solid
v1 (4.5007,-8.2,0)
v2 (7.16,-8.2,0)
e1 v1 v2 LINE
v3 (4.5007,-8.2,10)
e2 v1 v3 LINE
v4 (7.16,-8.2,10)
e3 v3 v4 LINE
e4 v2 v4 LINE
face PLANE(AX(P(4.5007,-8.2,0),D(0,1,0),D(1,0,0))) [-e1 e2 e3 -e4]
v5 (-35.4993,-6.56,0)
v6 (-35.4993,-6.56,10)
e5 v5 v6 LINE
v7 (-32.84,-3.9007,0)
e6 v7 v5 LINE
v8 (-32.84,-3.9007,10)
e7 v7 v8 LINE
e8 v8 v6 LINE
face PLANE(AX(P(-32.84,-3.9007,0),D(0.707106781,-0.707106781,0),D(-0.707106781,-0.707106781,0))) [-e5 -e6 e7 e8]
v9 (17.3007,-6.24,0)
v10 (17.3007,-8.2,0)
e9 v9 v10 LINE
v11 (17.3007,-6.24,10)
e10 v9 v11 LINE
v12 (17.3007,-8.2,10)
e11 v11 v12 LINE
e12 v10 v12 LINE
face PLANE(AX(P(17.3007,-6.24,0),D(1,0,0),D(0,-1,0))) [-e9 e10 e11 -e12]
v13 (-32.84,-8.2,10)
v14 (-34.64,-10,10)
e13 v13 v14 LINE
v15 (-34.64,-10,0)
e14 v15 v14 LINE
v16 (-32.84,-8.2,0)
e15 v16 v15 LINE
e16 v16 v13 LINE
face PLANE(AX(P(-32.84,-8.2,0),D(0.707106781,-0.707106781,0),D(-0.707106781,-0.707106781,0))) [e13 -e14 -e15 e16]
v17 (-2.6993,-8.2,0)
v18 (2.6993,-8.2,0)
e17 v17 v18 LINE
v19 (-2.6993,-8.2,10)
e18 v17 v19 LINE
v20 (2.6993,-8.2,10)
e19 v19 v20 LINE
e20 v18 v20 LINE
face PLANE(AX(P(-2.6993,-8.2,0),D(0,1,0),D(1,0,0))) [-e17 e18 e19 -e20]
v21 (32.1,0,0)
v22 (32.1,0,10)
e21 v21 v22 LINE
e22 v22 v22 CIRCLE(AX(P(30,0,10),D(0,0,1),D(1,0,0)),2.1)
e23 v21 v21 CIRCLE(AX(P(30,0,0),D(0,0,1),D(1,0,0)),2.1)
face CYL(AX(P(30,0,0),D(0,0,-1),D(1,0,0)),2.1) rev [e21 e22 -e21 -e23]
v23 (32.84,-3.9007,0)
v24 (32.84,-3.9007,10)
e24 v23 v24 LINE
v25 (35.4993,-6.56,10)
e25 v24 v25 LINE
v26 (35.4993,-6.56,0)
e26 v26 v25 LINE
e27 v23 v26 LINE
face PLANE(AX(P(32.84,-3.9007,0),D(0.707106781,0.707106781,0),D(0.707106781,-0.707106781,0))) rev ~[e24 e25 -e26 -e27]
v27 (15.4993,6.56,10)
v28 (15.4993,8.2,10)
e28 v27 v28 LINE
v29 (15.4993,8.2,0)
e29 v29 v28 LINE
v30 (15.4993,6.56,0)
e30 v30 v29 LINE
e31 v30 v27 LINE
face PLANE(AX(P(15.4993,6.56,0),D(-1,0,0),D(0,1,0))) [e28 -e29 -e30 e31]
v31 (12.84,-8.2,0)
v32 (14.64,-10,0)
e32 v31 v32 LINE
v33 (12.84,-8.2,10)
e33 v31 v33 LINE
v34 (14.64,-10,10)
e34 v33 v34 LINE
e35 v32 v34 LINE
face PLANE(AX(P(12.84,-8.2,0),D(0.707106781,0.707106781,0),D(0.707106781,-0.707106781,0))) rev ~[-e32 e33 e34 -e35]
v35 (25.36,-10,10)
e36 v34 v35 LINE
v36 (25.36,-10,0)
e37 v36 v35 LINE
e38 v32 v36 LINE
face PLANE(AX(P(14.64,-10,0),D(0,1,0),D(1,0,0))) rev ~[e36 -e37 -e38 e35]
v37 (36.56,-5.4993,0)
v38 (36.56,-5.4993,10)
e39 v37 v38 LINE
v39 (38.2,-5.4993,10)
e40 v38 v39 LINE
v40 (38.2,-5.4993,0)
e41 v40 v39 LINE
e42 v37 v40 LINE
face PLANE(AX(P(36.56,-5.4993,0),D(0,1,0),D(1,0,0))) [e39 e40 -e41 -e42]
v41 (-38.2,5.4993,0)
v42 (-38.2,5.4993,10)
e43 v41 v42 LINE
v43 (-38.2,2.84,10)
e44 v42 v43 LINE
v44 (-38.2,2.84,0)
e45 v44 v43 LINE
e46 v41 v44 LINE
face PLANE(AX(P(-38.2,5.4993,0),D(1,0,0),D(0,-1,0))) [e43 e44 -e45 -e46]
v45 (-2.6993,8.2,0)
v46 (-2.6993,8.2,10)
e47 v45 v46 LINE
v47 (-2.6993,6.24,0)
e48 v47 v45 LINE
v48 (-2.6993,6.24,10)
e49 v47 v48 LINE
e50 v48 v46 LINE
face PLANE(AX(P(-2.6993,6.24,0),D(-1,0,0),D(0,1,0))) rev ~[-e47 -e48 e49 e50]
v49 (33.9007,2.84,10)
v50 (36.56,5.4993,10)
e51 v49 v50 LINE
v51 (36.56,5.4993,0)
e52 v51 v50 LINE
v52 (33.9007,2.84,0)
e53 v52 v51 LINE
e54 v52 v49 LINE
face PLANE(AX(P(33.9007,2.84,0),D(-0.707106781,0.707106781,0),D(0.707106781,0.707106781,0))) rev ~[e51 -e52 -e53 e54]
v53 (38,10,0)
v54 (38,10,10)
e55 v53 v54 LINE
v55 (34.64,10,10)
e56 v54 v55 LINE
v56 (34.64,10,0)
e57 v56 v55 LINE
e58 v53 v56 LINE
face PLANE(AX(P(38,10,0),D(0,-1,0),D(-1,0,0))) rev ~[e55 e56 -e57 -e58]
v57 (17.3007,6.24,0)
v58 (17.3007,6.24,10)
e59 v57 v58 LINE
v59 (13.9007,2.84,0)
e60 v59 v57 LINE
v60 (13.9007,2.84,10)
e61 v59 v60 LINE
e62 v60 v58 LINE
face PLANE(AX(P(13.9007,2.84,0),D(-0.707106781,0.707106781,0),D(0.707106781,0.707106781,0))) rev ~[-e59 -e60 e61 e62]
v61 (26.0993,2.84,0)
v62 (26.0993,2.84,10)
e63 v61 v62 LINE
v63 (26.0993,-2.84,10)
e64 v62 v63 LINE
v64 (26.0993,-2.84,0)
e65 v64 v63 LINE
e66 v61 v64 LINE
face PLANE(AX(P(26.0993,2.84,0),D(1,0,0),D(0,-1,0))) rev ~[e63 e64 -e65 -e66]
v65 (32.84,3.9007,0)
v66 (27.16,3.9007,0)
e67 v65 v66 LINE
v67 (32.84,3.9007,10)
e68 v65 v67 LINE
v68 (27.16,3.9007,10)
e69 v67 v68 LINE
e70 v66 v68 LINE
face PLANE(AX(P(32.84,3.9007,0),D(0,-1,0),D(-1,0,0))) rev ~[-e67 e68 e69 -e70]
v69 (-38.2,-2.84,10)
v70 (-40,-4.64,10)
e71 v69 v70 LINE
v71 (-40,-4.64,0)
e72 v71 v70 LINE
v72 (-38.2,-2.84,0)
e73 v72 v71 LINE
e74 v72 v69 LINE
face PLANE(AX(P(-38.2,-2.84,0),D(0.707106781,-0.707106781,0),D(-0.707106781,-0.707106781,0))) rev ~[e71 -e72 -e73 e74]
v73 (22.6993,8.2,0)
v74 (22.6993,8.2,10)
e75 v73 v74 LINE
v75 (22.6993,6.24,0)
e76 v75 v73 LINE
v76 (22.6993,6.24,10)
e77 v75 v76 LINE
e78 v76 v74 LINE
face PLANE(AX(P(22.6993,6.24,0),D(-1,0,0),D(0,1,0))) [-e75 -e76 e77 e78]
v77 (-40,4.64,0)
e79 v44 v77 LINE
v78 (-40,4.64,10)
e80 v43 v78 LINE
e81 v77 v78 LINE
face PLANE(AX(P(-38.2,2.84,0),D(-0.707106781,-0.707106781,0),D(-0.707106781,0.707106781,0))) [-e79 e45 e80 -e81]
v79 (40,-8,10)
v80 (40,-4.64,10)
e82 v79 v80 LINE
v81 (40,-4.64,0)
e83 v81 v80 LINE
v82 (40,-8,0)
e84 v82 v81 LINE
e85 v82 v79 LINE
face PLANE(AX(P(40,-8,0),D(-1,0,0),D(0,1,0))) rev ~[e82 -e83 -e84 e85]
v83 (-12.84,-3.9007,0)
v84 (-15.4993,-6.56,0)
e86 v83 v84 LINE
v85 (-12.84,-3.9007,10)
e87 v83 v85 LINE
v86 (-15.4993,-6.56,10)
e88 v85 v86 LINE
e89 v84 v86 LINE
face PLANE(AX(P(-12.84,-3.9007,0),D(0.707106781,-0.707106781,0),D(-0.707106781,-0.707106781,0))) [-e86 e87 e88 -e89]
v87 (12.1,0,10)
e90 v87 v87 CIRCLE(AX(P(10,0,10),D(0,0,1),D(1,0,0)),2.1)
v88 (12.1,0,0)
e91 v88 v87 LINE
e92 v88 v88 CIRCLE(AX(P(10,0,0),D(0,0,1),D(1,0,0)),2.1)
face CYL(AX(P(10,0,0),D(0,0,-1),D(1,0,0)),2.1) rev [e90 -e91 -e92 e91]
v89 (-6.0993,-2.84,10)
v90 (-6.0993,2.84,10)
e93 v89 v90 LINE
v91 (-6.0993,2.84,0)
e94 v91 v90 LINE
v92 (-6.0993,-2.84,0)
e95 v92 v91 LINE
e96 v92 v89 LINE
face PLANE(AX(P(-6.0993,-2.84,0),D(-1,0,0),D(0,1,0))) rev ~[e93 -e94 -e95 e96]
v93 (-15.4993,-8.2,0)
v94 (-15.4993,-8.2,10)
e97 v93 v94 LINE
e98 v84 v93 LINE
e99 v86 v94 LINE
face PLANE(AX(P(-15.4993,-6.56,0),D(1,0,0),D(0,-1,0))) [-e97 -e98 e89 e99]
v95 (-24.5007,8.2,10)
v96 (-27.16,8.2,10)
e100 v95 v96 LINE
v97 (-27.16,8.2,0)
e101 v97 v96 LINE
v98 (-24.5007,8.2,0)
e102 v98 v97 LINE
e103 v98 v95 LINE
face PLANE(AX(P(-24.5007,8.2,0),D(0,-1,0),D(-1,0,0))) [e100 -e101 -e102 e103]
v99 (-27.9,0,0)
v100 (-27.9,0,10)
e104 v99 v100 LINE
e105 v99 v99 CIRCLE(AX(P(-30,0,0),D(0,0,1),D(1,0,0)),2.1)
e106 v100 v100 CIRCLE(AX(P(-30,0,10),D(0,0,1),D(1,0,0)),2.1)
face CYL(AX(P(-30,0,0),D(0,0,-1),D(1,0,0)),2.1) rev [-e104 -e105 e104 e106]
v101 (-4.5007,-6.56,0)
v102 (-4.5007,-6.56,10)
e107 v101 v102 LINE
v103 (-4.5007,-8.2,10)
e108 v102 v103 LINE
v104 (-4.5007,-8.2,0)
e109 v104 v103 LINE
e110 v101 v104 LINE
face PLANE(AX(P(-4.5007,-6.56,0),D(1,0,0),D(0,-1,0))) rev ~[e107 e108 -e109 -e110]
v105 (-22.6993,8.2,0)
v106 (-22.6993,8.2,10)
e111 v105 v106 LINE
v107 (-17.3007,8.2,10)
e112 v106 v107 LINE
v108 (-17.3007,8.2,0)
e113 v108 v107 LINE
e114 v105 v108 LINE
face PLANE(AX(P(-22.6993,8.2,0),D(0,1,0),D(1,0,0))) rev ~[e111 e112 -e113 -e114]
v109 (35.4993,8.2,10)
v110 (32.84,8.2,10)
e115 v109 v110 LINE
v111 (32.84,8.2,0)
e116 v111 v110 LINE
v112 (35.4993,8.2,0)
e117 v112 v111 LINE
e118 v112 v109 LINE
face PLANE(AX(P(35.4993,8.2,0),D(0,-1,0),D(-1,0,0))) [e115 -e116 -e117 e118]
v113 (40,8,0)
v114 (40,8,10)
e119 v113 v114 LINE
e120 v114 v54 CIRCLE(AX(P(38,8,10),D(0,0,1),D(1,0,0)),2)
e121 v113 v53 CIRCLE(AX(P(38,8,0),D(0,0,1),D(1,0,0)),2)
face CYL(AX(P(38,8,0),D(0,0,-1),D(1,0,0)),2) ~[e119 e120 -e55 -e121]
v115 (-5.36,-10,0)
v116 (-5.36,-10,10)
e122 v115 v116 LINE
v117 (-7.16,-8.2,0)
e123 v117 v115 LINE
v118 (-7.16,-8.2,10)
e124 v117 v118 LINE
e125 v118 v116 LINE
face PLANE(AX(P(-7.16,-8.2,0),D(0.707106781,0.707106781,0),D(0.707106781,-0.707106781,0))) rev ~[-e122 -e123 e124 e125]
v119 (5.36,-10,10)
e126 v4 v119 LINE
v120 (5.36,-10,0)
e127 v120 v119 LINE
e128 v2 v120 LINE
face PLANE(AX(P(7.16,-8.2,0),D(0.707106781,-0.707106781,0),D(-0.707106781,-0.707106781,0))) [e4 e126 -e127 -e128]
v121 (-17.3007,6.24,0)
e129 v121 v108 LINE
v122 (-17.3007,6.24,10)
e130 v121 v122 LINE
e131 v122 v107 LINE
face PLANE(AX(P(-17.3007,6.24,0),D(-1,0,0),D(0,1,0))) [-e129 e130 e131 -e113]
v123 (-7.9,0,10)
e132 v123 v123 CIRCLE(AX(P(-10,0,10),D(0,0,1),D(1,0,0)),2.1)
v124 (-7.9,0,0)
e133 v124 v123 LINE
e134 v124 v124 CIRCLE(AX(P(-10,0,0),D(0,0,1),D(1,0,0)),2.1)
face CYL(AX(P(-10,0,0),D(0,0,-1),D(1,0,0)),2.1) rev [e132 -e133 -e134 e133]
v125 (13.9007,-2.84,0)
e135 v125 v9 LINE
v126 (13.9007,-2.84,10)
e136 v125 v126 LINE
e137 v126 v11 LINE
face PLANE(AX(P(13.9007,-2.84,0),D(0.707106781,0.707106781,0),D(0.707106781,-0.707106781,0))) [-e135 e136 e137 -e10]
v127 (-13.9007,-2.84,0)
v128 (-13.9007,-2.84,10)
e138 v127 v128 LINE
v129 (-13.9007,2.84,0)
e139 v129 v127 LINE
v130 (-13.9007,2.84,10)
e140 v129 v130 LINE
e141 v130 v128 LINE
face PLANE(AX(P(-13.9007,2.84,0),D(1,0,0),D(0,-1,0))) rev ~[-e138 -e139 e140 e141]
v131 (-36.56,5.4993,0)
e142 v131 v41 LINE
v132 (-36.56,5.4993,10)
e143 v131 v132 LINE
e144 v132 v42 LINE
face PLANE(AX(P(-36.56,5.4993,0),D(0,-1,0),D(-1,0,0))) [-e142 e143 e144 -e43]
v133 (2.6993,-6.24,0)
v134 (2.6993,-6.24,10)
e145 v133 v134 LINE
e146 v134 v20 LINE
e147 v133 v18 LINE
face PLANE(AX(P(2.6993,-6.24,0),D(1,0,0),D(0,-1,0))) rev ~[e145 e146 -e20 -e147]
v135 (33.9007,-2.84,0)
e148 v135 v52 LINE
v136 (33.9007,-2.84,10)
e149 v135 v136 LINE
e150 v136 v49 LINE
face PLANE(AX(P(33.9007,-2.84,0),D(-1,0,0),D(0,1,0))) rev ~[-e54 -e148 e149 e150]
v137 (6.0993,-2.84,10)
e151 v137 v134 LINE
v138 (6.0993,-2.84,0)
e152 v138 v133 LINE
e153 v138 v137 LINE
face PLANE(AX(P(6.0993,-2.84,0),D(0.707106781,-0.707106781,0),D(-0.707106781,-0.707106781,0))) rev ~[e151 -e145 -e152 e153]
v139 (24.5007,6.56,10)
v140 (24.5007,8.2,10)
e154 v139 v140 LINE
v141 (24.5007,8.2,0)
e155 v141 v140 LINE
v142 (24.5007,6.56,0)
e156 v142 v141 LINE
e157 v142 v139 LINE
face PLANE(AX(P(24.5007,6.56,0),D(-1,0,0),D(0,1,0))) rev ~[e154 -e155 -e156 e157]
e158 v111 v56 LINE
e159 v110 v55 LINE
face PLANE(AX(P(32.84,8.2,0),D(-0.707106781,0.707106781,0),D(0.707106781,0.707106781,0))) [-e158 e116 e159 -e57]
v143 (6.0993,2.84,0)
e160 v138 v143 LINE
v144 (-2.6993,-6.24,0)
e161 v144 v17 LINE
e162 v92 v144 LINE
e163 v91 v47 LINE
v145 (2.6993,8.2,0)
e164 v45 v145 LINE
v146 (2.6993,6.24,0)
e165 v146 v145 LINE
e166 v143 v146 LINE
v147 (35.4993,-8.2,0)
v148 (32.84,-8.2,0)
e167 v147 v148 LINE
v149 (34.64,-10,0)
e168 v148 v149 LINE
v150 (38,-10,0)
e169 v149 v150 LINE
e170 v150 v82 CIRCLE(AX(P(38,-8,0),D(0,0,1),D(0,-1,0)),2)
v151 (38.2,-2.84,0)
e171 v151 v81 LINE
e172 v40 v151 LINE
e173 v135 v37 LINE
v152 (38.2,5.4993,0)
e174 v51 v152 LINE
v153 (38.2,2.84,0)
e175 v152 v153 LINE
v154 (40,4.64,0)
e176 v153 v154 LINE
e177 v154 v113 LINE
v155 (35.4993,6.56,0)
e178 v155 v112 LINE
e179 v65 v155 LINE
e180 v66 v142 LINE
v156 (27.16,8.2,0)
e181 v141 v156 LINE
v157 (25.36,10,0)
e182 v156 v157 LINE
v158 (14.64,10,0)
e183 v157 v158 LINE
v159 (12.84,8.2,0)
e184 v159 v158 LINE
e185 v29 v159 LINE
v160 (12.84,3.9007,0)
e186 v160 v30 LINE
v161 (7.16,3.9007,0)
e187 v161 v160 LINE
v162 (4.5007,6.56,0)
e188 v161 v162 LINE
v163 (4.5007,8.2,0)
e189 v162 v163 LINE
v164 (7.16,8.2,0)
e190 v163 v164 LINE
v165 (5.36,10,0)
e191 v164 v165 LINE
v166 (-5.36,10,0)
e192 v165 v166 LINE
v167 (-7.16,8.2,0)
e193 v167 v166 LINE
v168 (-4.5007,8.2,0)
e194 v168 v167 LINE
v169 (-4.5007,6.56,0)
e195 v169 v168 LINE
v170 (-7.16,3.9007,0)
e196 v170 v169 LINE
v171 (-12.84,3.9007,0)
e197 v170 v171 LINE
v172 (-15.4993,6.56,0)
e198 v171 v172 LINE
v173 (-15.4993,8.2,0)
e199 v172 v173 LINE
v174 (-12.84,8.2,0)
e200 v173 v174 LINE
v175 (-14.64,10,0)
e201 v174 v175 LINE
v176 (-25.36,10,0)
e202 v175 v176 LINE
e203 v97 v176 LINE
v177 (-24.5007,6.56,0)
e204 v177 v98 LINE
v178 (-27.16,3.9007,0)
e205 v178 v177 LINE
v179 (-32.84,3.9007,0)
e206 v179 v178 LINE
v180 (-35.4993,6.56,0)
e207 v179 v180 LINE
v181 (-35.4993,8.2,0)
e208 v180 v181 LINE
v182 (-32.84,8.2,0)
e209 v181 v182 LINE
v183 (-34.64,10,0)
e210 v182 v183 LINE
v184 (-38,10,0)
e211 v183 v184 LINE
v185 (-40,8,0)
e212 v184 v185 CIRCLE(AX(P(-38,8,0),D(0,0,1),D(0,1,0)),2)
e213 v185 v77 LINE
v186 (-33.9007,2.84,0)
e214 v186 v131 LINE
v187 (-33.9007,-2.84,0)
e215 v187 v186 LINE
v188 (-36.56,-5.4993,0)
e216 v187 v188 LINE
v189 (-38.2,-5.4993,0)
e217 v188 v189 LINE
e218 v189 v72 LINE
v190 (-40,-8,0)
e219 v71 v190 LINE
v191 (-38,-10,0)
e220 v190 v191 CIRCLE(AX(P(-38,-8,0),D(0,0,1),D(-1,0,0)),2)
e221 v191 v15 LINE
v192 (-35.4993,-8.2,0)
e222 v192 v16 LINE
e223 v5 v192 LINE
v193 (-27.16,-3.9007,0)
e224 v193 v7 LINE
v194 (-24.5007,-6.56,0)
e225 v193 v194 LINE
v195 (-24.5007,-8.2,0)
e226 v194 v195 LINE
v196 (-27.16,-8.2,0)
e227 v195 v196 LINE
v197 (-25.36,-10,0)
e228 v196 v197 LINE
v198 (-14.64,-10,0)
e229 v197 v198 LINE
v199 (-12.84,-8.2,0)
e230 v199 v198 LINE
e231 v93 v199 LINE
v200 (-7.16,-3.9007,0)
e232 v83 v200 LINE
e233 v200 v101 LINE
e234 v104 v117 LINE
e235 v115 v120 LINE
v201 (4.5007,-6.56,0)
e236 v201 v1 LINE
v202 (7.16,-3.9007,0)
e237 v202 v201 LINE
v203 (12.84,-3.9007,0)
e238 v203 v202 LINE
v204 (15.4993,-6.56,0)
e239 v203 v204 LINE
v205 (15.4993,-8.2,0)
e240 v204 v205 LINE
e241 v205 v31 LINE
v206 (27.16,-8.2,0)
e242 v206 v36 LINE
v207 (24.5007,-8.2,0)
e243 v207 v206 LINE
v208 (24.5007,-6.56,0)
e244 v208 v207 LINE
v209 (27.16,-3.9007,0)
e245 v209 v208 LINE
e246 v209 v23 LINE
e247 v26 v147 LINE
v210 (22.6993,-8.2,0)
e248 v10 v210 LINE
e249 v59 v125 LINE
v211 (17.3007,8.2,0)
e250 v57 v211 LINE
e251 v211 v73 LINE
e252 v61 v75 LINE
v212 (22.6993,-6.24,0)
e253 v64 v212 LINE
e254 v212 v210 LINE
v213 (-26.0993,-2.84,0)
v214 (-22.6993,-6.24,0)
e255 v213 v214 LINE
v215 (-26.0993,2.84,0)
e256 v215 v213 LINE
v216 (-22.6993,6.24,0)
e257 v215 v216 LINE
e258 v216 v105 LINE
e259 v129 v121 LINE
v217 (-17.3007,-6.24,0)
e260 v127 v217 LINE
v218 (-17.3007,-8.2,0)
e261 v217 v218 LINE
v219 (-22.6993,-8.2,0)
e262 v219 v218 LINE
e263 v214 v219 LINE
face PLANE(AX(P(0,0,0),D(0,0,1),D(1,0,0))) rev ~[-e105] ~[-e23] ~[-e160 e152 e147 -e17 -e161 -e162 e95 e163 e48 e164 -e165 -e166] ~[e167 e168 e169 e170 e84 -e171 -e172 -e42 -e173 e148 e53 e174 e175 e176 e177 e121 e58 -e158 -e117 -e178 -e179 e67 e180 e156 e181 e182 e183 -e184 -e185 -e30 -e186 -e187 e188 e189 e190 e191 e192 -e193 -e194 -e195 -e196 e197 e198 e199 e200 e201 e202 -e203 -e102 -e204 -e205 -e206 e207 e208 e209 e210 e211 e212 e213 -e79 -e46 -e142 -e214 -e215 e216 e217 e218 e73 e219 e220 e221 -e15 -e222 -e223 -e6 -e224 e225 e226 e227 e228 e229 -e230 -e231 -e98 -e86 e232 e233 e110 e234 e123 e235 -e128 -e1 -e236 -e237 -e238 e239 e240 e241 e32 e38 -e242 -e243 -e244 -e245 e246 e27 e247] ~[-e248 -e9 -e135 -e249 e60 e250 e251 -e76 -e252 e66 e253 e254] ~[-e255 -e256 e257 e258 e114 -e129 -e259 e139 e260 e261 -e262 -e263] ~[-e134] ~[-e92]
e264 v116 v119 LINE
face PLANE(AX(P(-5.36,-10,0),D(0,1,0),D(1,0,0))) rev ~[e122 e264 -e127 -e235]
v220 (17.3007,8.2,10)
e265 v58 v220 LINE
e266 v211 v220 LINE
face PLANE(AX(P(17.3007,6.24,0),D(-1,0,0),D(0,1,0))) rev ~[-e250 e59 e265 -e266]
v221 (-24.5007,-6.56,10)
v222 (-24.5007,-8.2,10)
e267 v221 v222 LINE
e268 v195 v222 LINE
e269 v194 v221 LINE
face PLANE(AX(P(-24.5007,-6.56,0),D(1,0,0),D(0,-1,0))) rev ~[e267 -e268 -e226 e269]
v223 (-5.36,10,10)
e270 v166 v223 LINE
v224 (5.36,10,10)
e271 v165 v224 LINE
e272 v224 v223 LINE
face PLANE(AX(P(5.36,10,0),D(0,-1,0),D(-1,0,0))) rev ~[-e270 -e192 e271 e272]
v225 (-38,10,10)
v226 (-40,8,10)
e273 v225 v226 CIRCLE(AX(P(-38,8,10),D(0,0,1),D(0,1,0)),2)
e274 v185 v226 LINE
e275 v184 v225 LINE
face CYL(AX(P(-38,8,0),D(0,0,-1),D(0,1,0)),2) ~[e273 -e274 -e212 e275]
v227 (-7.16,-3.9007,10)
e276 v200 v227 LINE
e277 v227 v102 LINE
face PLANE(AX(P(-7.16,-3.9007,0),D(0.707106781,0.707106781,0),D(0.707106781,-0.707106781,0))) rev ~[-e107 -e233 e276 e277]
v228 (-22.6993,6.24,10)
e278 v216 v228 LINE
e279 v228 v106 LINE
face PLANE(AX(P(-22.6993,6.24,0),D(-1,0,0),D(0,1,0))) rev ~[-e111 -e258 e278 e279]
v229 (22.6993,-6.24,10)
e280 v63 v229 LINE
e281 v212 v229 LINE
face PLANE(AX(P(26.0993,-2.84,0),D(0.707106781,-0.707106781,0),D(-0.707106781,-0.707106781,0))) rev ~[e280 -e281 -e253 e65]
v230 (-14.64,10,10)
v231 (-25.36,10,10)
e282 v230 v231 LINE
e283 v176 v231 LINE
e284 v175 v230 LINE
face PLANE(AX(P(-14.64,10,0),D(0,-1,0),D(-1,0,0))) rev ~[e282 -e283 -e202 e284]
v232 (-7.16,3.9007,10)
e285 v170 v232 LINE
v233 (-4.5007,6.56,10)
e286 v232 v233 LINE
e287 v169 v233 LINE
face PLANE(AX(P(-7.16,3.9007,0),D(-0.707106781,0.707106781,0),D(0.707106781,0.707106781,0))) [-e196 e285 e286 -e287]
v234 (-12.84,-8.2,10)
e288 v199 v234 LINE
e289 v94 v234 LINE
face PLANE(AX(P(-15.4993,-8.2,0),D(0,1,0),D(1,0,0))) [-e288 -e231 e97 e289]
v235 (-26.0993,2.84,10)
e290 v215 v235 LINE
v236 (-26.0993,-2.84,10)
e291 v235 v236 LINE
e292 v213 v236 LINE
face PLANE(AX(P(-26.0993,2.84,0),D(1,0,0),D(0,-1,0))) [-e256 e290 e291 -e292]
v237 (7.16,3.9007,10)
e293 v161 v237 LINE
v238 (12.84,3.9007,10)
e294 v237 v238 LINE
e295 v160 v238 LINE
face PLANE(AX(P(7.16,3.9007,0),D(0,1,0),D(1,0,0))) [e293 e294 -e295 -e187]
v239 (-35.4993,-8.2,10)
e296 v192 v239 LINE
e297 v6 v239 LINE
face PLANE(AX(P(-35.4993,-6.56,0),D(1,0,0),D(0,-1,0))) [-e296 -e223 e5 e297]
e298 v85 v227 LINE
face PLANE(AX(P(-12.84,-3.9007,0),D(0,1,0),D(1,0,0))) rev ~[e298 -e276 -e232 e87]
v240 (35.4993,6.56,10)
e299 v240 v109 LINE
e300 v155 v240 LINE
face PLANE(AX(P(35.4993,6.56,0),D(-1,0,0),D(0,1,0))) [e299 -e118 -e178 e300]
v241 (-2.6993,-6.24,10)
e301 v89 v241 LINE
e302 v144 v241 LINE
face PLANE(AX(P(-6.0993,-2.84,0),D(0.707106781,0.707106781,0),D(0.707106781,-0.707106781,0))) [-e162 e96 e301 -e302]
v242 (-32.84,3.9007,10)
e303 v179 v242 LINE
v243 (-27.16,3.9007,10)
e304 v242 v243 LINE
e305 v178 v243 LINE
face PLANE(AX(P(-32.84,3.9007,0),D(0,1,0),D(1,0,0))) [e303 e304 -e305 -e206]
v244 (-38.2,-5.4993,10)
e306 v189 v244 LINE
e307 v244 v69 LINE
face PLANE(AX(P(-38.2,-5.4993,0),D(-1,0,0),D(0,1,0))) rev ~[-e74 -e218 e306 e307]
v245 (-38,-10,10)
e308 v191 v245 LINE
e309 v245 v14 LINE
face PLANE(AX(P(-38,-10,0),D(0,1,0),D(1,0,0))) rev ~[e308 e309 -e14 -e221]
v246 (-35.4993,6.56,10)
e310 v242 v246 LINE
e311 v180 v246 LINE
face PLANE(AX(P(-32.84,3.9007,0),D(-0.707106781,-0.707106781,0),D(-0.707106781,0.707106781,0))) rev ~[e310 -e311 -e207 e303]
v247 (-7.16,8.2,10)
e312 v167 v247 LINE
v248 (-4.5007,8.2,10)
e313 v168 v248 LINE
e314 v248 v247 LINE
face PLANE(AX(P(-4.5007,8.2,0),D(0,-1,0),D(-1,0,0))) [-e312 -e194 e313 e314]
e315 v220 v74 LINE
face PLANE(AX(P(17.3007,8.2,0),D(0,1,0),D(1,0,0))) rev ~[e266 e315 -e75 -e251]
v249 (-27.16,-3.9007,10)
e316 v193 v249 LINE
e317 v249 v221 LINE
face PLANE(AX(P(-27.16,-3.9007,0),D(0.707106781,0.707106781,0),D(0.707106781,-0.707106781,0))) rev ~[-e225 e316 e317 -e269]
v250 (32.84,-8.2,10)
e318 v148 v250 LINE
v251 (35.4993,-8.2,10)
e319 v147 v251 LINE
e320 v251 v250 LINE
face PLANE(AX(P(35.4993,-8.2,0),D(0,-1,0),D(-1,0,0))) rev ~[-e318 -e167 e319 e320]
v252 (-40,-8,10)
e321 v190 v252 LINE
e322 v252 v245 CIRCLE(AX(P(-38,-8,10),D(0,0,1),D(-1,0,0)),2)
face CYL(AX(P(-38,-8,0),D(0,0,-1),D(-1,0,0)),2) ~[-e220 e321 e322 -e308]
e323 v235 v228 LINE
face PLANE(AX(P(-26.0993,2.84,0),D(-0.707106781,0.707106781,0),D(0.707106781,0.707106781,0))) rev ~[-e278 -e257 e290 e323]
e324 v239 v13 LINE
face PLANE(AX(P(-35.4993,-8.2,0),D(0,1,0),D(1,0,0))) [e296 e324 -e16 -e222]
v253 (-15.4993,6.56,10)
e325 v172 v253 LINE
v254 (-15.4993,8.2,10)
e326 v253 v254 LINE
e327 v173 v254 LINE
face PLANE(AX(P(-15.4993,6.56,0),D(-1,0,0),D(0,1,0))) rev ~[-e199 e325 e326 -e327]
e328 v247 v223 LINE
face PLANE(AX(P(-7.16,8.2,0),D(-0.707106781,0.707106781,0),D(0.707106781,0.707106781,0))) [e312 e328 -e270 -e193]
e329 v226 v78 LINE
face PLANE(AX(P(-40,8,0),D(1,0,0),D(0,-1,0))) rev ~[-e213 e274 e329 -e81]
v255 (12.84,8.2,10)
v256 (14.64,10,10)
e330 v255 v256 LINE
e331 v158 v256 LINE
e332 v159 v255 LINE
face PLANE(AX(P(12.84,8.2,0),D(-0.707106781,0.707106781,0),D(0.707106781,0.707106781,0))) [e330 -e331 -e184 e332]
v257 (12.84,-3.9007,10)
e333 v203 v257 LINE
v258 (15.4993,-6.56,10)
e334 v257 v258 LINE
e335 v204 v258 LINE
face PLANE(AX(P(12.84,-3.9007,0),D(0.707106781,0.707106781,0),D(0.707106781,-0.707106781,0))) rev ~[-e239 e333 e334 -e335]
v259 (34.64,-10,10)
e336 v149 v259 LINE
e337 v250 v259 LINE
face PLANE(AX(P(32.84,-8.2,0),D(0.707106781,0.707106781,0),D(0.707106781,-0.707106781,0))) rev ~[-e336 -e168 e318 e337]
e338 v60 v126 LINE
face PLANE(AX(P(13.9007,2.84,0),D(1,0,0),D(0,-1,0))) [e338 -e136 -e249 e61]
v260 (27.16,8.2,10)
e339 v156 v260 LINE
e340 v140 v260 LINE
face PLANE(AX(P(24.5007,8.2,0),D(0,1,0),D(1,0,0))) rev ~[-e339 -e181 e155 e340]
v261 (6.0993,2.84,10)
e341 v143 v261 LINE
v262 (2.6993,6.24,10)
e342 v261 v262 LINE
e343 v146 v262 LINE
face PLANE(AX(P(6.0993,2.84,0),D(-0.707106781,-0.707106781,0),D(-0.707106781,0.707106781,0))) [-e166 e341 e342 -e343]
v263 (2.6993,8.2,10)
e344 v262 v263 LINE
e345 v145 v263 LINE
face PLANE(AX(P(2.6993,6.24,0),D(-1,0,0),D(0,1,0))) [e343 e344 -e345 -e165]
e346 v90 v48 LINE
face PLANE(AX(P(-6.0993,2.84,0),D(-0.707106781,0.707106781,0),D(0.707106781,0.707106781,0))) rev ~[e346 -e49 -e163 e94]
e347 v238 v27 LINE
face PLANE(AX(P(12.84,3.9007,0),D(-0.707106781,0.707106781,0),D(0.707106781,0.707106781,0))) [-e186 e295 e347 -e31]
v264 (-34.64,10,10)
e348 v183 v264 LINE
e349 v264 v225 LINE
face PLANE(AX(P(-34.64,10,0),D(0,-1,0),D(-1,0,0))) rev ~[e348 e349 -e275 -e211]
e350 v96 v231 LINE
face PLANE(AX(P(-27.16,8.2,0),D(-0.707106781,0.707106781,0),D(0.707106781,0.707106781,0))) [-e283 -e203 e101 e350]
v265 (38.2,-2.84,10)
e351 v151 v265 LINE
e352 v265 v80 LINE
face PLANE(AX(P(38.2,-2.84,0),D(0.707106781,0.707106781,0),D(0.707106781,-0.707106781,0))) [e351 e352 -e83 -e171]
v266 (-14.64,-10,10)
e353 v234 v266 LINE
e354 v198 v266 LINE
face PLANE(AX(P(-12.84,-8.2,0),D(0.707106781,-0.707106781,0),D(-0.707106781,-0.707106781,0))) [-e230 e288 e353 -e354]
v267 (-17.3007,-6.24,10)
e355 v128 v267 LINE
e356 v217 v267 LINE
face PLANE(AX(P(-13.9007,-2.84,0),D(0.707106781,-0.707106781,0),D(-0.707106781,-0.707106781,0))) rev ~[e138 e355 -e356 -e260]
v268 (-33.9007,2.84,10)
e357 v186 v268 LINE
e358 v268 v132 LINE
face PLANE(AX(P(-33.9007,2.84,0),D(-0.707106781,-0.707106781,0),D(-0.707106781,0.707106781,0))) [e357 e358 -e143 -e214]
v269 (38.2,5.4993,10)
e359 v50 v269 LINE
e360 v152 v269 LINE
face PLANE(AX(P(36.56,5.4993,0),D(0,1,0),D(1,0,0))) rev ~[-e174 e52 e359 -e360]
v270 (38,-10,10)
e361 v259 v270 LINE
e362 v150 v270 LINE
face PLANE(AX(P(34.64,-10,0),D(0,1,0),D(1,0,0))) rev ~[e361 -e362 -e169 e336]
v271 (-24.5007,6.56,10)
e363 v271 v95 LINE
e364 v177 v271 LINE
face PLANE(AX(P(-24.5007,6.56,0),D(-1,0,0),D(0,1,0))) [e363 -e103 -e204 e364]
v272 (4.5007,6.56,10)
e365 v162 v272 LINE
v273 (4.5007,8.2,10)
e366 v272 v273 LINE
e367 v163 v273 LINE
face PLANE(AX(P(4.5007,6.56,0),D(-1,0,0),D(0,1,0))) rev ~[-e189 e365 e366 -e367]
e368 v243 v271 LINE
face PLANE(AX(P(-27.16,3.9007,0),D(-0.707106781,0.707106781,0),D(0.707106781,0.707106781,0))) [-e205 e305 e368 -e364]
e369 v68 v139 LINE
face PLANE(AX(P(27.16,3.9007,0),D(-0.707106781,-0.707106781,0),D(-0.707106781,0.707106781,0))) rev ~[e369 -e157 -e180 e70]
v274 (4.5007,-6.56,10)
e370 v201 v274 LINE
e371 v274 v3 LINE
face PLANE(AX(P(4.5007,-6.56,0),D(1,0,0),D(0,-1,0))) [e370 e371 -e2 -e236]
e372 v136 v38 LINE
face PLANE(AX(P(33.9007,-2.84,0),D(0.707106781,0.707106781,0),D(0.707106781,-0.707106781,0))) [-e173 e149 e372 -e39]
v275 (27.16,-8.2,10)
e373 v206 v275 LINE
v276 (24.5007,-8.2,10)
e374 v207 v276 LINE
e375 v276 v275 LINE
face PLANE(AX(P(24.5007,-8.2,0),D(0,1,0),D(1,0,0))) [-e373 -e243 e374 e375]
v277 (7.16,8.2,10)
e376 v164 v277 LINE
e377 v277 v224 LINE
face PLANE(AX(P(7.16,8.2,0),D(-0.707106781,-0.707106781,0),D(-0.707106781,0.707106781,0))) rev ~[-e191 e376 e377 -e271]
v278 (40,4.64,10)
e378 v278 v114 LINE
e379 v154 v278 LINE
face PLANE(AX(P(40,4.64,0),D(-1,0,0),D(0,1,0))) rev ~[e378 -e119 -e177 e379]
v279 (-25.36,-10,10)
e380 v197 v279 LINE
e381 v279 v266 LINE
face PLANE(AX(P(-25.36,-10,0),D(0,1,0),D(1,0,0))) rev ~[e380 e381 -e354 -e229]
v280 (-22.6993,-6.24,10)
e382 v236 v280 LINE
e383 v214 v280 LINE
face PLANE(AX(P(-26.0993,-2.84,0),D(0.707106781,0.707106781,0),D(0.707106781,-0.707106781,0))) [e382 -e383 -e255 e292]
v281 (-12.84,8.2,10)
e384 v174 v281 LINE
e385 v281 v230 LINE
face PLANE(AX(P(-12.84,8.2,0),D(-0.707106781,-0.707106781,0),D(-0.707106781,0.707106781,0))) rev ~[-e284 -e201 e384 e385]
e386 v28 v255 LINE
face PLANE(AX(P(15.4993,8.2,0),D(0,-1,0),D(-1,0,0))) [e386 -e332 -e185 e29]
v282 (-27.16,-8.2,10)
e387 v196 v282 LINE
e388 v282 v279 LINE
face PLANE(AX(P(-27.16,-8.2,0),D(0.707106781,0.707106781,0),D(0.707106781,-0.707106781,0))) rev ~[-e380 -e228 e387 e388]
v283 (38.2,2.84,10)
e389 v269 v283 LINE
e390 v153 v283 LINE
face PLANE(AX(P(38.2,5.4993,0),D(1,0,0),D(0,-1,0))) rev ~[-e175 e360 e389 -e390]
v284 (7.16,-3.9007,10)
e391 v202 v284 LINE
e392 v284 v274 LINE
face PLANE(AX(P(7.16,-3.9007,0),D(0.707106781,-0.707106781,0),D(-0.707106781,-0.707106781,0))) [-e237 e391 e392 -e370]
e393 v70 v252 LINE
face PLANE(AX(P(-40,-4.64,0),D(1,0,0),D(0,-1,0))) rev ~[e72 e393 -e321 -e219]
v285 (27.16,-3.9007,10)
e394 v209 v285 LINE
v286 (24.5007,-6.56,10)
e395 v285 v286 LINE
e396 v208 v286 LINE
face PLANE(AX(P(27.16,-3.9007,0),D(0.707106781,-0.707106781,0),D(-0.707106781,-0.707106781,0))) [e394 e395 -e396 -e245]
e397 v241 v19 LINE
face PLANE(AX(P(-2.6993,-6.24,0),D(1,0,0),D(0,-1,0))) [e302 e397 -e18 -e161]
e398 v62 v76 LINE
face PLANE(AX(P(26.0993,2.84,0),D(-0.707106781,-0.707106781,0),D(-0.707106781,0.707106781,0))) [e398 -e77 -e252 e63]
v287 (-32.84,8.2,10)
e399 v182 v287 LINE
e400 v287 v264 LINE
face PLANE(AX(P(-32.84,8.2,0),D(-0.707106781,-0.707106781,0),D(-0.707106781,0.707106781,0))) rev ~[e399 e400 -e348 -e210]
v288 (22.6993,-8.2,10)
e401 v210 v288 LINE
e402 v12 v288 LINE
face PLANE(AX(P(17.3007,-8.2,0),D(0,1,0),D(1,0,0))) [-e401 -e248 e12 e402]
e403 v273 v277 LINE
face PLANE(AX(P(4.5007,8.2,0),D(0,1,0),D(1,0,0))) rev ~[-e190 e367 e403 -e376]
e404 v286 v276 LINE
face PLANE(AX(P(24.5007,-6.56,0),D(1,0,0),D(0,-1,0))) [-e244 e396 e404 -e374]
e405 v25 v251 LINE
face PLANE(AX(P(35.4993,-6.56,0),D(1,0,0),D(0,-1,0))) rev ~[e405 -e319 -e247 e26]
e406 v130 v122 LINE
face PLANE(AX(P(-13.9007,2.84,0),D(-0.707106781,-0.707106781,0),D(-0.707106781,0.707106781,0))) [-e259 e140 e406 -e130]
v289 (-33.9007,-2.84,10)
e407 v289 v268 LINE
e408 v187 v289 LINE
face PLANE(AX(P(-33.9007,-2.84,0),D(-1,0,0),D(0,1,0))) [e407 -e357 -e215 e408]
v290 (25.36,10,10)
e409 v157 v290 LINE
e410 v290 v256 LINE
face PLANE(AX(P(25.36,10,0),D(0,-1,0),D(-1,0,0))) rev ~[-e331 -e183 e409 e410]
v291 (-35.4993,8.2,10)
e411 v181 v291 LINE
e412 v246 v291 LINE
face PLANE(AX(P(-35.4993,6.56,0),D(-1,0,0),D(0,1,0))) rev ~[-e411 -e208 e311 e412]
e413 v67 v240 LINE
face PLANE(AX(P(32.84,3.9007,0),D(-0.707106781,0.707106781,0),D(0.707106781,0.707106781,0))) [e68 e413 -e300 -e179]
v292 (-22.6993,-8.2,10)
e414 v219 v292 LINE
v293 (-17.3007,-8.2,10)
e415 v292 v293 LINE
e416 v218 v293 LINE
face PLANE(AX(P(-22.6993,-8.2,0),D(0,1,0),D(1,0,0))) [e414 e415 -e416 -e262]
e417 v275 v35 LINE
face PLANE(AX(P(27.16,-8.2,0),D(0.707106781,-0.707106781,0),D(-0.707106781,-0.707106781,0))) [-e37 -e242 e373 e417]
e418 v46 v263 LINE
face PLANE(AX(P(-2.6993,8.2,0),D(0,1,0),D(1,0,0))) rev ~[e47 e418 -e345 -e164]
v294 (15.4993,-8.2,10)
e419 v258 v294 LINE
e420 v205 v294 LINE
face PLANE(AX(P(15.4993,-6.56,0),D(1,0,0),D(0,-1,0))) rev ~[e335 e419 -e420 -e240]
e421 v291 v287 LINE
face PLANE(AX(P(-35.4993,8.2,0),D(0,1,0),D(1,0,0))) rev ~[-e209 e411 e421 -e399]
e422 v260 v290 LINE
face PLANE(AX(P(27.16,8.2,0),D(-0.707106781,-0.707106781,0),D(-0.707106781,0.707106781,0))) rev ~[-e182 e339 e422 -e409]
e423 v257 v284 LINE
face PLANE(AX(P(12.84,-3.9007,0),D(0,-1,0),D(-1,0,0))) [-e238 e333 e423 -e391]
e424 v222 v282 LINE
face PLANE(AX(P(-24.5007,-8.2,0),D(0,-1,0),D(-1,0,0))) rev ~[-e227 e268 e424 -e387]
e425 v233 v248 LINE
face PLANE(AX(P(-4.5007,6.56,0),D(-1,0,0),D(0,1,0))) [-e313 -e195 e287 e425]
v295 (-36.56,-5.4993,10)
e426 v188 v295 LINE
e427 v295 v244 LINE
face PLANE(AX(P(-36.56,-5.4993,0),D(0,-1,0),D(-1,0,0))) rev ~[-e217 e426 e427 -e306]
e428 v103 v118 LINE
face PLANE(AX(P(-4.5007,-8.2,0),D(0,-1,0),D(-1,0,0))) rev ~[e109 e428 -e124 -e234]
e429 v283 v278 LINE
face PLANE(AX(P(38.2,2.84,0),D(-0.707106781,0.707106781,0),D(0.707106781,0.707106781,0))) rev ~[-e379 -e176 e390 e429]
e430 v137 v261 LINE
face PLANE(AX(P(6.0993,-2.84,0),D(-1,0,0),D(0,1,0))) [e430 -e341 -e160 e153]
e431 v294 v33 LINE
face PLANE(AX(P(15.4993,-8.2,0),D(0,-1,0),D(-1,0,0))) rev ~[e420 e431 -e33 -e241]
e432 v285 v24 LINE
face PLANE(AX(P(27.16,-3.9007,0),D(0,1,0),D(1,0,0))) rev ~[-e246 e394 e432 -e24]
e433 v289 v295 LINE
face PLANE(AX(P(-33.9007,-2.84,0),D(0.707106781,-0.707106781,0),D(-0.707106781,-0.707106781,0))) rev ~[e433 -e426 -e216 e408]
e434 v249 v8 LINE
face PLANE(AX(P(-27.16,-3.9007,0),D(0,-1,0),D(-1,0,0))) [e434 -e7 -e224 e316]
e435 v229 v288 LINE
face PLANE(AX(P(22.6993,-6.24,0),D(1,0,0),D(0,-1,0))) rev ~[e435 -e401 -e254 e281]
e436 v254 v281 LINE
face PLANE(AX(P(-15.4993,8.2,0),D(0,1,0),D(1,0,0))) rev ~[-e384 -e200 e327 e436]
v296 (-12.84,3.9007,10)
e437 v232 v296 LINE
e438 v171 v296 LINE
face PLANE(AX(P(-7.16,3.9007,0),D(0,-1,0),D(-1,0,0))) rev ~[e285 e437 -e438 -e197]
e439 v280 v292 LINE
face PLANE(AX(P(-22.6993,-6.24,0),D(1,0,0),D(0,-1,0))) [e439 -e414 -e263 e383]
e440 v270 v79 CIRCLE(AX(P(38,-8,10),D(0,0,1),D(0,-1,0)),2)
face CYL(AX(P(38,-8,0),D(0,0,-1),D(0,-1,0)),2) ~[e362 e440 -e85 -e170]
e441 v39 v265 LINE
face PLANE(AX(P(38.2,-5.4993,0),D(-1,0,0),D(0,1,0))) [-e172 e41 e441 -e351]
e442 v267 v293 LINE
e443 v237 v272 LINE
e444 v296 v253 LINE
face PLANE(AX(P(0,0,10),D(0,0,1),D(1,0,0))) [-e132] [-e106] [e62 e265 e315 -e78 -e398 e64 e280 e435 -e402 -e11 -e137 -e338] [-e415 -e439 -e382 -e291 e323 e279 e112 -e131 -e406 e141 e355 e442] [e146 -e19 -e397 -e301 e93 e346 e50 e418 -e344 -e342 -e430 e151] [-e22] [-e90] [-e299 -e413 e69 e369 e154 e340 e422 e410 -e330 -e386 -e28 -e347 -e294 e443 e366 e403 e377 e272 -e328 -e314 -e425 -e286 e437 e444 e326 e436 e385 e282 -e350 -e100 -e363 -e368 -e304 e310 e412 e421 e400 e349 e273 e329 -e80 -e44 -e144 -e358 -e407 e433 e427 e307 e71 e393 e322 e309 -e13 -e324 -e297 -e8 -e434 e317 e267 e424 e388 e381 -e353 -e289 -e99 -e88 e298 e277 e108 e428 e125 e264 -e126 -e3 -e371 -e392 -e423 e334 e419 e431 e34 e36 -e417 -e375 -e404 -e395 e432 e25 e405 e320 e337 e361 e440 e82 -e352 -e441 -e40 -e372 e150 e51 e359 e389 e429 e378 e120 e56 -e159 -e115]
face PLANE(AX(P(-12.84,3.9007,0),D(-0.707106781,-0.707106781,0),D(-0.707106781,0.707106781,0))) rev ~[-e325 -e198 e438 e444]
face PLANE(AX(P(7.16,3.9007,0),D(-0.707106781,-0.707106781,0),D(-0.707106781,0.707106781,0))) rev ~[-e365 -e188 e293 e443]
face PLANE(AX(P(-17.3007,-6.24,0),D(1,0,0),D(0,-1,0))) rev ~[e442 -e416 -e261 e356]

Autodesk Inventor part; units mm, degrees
ref_plane "YZ Plane" through (0, 0, 0) normal (1, 0, 0) x (0, 1, 0)
ref_plane "Start Plane" through (0, 0, 0) normal (0, 0, 1) x (1, 0, 0)
ref_plane "End Plane" through (0, 0, 10) normal (0, 0, 1) x (1, 0, 0)
sketch "Sketch1" plane through (0, 0, 0) normal (0, 0, 1) x (1, 0, 0)
  line L0 (0, 0) -> (0, 10) construction
  line L1 (0, 10) -> (-10, 10) construction
  line L2 (-10, 10) -> (-10, 0) construction
  line L3 (-10, 10) -> (-20, 10) construction
  line L4 (-20, 10) -> (-20, 0) construction
  circle A0 centre (-10, 0) radius 2.1
  line L5 (-13.9007, -3.9007) -> (-6.0993, -3.9007) construction
  line L6 (-6.0993, -3.9007) -> (-6.0993, 3.9007) construction
  line L7 (-6.0993, 3.9007) -> (-13.9007, 3.9007) construction
  line L8 (-13.9007, 3.9007) -> (-13.9007, -3.9007) construction
  line L9 (-13.9007, -3.9007) -> (-6.0993, 3.9007) construction
  line L10 (-6.0993, -3.9007) -> (-13.9007, 3.9007) construction
  line L11 (-13.9007, -2.84) -> (-12.84, -3.9007) construction
  line L12 (-13.9007, -2.84) -> (-12.4007, -2.84) construction
  line L13 (0, 0) -> (-10, 0) construction
  line L14 (-12.84, -3.9007) -> (-15.4993, -6.56)
  line L15 (-15.4993, -6.56) -> (-15.4993, -8.2)
  line L16 (-15.4993, -8.2) -> (-12.84, -8.2)
  line L17 (-12.84, -8.2) -> (-14.64, -10)
  line L18 (-7.16, -3.9007) -> (-4.5007, -6.56)
  line L19 (-4.5007, -6.56) -> (-4.5007, -8.2)
  line L20 (-4.5007, -8.2) -> (-7.16, -8.2)
  line L21 (-7.16, -8.2) -> (-5.36, -10)
  line L22 (-12.84, 3.9007) -> (-15.4993, 6.56)
  line L23 (-15.4993, 6.56) -> (-15.4993, 8.2)
  line L24 (-15.4993, 8.2) -> (-12.84, 8.2)
  line L25 (-12.84, 8.2) -> (-14.64, 10)
  line L26 (-7.16, 3.9007) -> (-4.5007, 6.56)
  line L27 (-4.5007, 6.56) -> (-4.5007, 8.2)
  line L28 (-4.5007, 8.2) -> (-7.16, 8.2)
  line L29 (-7.16, 8.2) -> (-5.36, 10)
  line L30 (-20, -8.2) -> (-15.4993, -8.2) construction
  line L31 (-13.9007, -2.84) -> (-17.3007, -6.24)
  line L32 (-17.3007, -6.24) -> (-17.3007, -8.2)
  line L33 (-13.9007, 2.84) -> (-17.3007, 6.24)
  line L34 (-17.3007, 6.24) -> (-17.3007, 8.2)
  line L35 (-6.0993, -2.84) -> (-2.6993, -6.24)
  line L36 (-2.6993, -6.24) -> (-2.6993, -8.2)
  line L37 (-2.6993, 6.24) -> (-2.6993, 8.2)
  line L38 (-6.0993, 2.84) -> (-2.6993, 6.24)
  line L39 (-12.84, -3.9007) -> (-7.16, -3.9007)
  line L40 (-6.0993, -2.84) -> (-6.0993, 2.84)
  line L41 (-7.16, 3.9007) -> (-12.84, 3.9007)
  line L42 (-13.9007, 2.84) -> (-13.9007, -2.84)
  line L43 (-30, 10) -> (-30, 0) construction
  circle A1 centre (-30, 0) radius 2.1
  line L44 (-26.0993, -3.9007) -> (-33.9007, -3.9007) construction
  line L45 (-33.9007, -3.9007) -> (-33.9007, 3.9007) construction
  line L46 (-33.9007, 3.9007) -> (-26.0993, 3.9007) construction
  line L47 (-26.0993, 3.9007) -> (-26.0993, -3.9007) construction
  line L48 (-26.0993, -3.9007) -> (-33.9007, 3.9007) construction
  line L49 (-33.9007, -3.9007) -> (-26.0993, 3.9007) construction
  line L50 (-26.0993, -2.84) -> (-27.16, -3.9007) construction
  line L51 (-26.0993, -2.84) -> (-27.5993, -2.84) construction
  line L52 (-27.16, -3.9007) -> (-24.5007, -6.56)
  line L53 (-24.5007, -6.56) -> (-24.5007, -8.2)
  line L54 (-24.5007, -8.2) -> (-27.16, -8.2)
  line L55 (-27.16, -8.2) -> (-25.36, -10)
  line L56 (-32.84, -3.9007) -> (-35.4993, -6.56)
  line L57 (-35.4993, -6.56) -> (-35.4993, -8.2)
  line L58 (-35.4993, -8.2) -> (-32.84, -8.2)
  line L59 (-32.84, -8.2) -> (-34.64, -10)
  line L60 (-27.16, 3.9007) -> (-24.5007, 6.56)
  line L61 (-24.5007, 6.56) -> (-24.5007, 8.2)
  line L62 (-24.5007, 8.2) -> (-27.16, 8.2)
  line L63 (-27.16, 8.2) -> (-25.36, 10)
  line L64 (-32.84, 8.2) -> (-34.64, 10)
  line L65 (-35.4993, 8.2) -> (-32.84, 8.2)
  line L66 (-35.4993, 6.56) -> (-35.4993, 8.2)
  line L67 (-32.84, 3.9007) -> (-35.4993, 6.56)
  line L68 (-26.0993, -2.84) -> (-22.6993, -6.24)
  line L69 (-22.6993, -6.24) -> (-22.6993, -8.2)
  line L70 (-22.6993, 6.24) -> (-22.6993, 8.2)
  line L71 (-26.0993, 2.84) -> (-22.6993, 6.24)
  line L72 (-27.16, -3.9007) -> (-32.84, -3.9007)
  line L73 (-33.9007, -2.84) -> (-33.9007, 2.84)
  line L74 (-32.84, 3.9007) -> (-27.16, 3.9007)
  line L75 (-26.0993, 2.84) -> (-26.0993, -2.84)
  line L76 (-38.2, -2.84) -> (-40, -4.64)
  line L77 (-36.56, -5.4993) -> (-38.2, -5.4993)
  line L78 (-38.2, -5.4993) -> (-38.2, -2.84)
  line L79 (-33.9007, -2.84) -> (-36.56, -5.4993)
  line L80 (-33.9007, 2.84) -> (-36.56, 5.4993)
  line L81 (-36.56, 5.4993) -> (-38.2, 5.4993)
  line L82 (-38.2, 2.84) -> (-40, 4.64)
  line L83 (-38.2, 5.4993) -> (-38.2, 2.84)
  line L84 (10, 10) -> (10, 0) construction
  line L85 (10, 10) -> (20, 10) construction
  line L86 (20, 10) -> (20, 0) construction
  circle A2 centre (10, 0) radius 2.1
  line L87 (13.9007, -3.9007) -> (6.0993, -3.9007) construction
  line L88 (6.0993, -3.9007) -> (6.0993, 3.9007) construction
  line L89 (6.0993, 3.9007) -> (13.9007, 3.9007) construction
  line L90 (13.9007, 3.9007) -> (13.9007, -3.9007) construction
  line L91 (13.9007, -3.9007) -> (6.0993, 3.9007) construction
  line L92 (6.0993, -3.9007) -> (13.9007, 3.9007) construction
  line L93 (13.9007, -2.84) -> (12.84, -3.9007) construction
  line L94 (13.9007, -2.84) -> (12.4007, -2.84) construction
  line L95 (12.84, -3.9007) -> (15.4993, -6.56)
  line L96 (15.4993, -6.56) -> (15.4993, -8.2)
  line L97 (15.4993, -8.2) -> (12.84, -8.2)
  line L98 (12.84, -8.2) -> (14.64, -10)
  line L99 (7.16, -3.9007) -> (4.5007, -6.56)
  line L100 (4.5007, -6.56) -> (4.5007, -8.2)
  line L101 (4.5007, -8.2) -> (7.16, -8.2)
  line L102 (7.16, -8.2) -> (5.36, -10)
  line L103 (12.84, 3.9007) -> (15.4993, 6.56)
  line L104 (15.4993, 6.56) -> (15.4993, 8.2)
  line L105 (15.4993, 8.2) -> (12.84, 8.2)
  line L106 (12.84, 8.2) -> (14.64, 10)
  line L107 (7.16, 8.2) -> (5.36, 10)
  line L108 (4.5007, 8.2) -> (7.16, 8.2)
  line L109 (4.5007, 6.56) -> (4.5007, 8.2)
  line L110 (7.16, 3.9007) -> (4.5007, 6.56)
  line L111 (20, -8.2) -> (15.4993, -8.2) construction
  line L112 (13.9007, -2.84) -> (17.3007, -6.24)
  line L113 (17.3007, -6.24) -> (17.3007, -8.2)
  line L114 (17.3007, 6.24) -> (17.3007, 8.2)
  line L115 (13.9007, 2.84) -> (17.3007, 6.24)
  line L116 (2.6993, 6.24) -> (2.6993, 8.2)
  line L117 (6.0993, 2.84) -> (2.6993, 6.24)
  line L118 (6.0993, -2.84) -> (2.6993, -6.24)
  line L119 (2.6993, -6.24) -> (2.6993, -8.2)
  line L120 (12.84, -3.9007) -> (7.16, -3.9007)
  line L121 (6.0993, -2.84) -> (6.0993, 2.84)
  line L122 (7.16, 3.9007) -> (12.84, 3.9007)
  line L123 (13.9007, 2.84) -> (13.9007, -2.84)
  line L124 (32.84, 3.9007) -> (35.4993, 6.56)
  line L125 (30, 10) -> (30, 0) construction
  line L126 (35.4993, 6.56) -> (35.4993, 8.2)
  line L127 (35.4993, 8.2) -> (32.84, 8.2)
  line L128 (32.84, 8.2) -> (34.64, 10)
  line L129 (32.84, -8.2) -> (34.64, -10)
  line L130 (35.4993, -6.56) -> (35.4993, -8.2)
  line L131 (35.4993, -8.2) -> (32.84, -8.2)
  line L132 (32.84, -3.9007) -> (35.4993, -6.56)
  line L133 (26.0993, 2.84) -> (26.0993, -2.84)
  line L134 (32.84, 3.9007) -> (27.16, 3.9007)
  line L135 (33.9007, -2.84) -> (33.9007, 2.84)
  line L136 (27.16, -3.9007) -> (32.84, -3.9007)
  line L137 (27.16, 3.9007) -> (24.5007, 6.56)
  line L138 (33.9007, 3.9007) -> (26.0993, 3.9007) construction
  circle A3 centre (30, 0) radius 2.1
  line L139 (26.0993, 3.9007) -> (26.0993, -3.9007) construction
  line L140 (26.0993, -3.9007) -> (33.9007, -3.9007) construction
  line L141 (26.0993, -3.9007) -> (33.9007, 3.9007) construction
  line L142 (33.9007, -3.9007) -> (26.0993, 3.9007) construction
  line L143 (33.9007, -3.9007) -> (33.9007, 3.9007) construction
  line L144 (26.0993, -2.84) -> (27.5993, -2.84) construction
  line L145 (27.16, -8.2) -> (25.36, -10)
  line L146 (26.0993, -2.84) -> (27.16, -3.9007) construction
  line L147 (27.16, -3.9007) -> (24.5007, -6.56)
  line L148 (24.5007, -8.2) -> (27.16, -8.2)
  line L149 (24.5007, -6.56) -> (24.5007, -8.2)
  line L150 (26.0993, -2.84) -> (22.6993, -6.24)
  line L151 (22.6993, -6.24) -> (22.6993, -8.2)
  line L152 (26.0993, 2.84) -> (22.6993, 6.24)
  line L153 (24.5007, 8.2) -> (27.16, 8.2)
  line L154 (24.5007, 6.56) -> (24.5007, 8.2)
  line L155 (22.6993, 6.24) -> (22.6993, 8.2)
  line L156 (27.16, 8.2) -> (25.36, 10)
  line L157 (33.9007, -2.84) -> (36.56, -5.4993)
  line L158 (36.56, -5.4993) -> (38.2, -5.4993)
  line L159 (38.2, -2.84) -> (40, -4.64)
  line L160 (38.2, -5.4993) -> (38.2, -2.84)
  line L161 (33.9007, 2.84) -> (36.56, 5.4993)
  line L162 (36.56, 5.4993) -> (38.2, 5.4993)
  line L163 (38.2, 5.4993) -> (38.2, 2.84)
  line L164 (38.2, 2.84) -> (40, 4.64)
  line L165 (-25.36, -10) -> (-14.64, -10)
  line L166 (-5.36, -10) -> (5.36, -10)
  line L167 (14.64, -10) -> (25.36, -10)
  line L168 (34.64, -10) -> (38, -10)
  line L169 (40, -8) -> (40, -4.64)
  line L170 (40, 4.64) -> (40, 8)
  line L171 (38, 10) -> (34.64, 10)
  line L172 (25.36, 10) -> (14.64, 10)
  line L173 (5.36, 10) -> (-5.36, 10)
  line L174 (-14.64, 10) -> (-25.36, 10)
  line L175 (-34.64, 10) -> (-38, 10)
  line L176 (-40, 8) -> (-40, 4.64)
  line L177 (-40, -4.64) -> (-40, -8)
  line L178 (-38, -10) -> (-34.64, -10)
  line L179 (-22.6993, 8.2) -> (-17.3007, 8.2)
  line L180 (-22.6993, -8.2) -> (-17.3007, -8.2)
  line L181 (-2.6993, 8.2) -> (2.6993, 8.2)
  line L182 (-2.6993, -8.2) -> (2.6993, -8.2)
  line L183 (17.3007, 8.2) -> (22.6993, 8.2)
  line L184 (17.3007, -8.2) -> (22.6993, -8.2)
  arc A4 (-40, -8) -> (-38, -10) centre (-38, -8) ccw
  arc A5 (-38, 10) -> (-40, 8) centre (-38, 8) ccw
  arc A6 (38, -10) -> (40, -8) centre (38, -8) ccw
  arc A7 (40, 8) -> (38, 10) centre (38, 8) ccw
  dimension "d0" = 10
  dimension "d1" = 10
  dimension "d2" = 10
  dimension "d3" = 4.2
  dimension "d4" = 1.5
  dimension "d5" = 45
  dimension "d6" = 1.64
  dimension "d7" = 1.8
  dimension "d8" = 10
  dimension "d9" = 2.84
  dimension "d11" = 135
  dimension "d12" = 1.96
  dimension "d13" = 5.68
  dimension "d14" = 2
extrude "Body" add sketch "Sketch1" along normal up to surface (10 mm away) from surface at 0
sketch "Sketch10" plane through (0, 0, 0) normal (0, 0, 1) x (1, 0, 0)
  line L0 (0, 0) -> (10, 0)
ref_plane "Work Plane7" through (0, 0, 0) normal (0, -1, 0) x (1, 0, 0)
sketch "Sketch11" plane through (0, 0, 0) normal (0, -1, 0) x (1, 0, 0)
  line L0 (-56, 0) -> (56, 0)
  line L1 (-56, 10) -> (56, 10)
  dimension "d22" = 10
equation "\"G_OFFSET_START\" = 0"
equation "\"G_OFFSET_END\" = 0"
equation "\"G_L\" = d22"
properties part number "vslot 20 x 80" material "Aluminum 6061"
